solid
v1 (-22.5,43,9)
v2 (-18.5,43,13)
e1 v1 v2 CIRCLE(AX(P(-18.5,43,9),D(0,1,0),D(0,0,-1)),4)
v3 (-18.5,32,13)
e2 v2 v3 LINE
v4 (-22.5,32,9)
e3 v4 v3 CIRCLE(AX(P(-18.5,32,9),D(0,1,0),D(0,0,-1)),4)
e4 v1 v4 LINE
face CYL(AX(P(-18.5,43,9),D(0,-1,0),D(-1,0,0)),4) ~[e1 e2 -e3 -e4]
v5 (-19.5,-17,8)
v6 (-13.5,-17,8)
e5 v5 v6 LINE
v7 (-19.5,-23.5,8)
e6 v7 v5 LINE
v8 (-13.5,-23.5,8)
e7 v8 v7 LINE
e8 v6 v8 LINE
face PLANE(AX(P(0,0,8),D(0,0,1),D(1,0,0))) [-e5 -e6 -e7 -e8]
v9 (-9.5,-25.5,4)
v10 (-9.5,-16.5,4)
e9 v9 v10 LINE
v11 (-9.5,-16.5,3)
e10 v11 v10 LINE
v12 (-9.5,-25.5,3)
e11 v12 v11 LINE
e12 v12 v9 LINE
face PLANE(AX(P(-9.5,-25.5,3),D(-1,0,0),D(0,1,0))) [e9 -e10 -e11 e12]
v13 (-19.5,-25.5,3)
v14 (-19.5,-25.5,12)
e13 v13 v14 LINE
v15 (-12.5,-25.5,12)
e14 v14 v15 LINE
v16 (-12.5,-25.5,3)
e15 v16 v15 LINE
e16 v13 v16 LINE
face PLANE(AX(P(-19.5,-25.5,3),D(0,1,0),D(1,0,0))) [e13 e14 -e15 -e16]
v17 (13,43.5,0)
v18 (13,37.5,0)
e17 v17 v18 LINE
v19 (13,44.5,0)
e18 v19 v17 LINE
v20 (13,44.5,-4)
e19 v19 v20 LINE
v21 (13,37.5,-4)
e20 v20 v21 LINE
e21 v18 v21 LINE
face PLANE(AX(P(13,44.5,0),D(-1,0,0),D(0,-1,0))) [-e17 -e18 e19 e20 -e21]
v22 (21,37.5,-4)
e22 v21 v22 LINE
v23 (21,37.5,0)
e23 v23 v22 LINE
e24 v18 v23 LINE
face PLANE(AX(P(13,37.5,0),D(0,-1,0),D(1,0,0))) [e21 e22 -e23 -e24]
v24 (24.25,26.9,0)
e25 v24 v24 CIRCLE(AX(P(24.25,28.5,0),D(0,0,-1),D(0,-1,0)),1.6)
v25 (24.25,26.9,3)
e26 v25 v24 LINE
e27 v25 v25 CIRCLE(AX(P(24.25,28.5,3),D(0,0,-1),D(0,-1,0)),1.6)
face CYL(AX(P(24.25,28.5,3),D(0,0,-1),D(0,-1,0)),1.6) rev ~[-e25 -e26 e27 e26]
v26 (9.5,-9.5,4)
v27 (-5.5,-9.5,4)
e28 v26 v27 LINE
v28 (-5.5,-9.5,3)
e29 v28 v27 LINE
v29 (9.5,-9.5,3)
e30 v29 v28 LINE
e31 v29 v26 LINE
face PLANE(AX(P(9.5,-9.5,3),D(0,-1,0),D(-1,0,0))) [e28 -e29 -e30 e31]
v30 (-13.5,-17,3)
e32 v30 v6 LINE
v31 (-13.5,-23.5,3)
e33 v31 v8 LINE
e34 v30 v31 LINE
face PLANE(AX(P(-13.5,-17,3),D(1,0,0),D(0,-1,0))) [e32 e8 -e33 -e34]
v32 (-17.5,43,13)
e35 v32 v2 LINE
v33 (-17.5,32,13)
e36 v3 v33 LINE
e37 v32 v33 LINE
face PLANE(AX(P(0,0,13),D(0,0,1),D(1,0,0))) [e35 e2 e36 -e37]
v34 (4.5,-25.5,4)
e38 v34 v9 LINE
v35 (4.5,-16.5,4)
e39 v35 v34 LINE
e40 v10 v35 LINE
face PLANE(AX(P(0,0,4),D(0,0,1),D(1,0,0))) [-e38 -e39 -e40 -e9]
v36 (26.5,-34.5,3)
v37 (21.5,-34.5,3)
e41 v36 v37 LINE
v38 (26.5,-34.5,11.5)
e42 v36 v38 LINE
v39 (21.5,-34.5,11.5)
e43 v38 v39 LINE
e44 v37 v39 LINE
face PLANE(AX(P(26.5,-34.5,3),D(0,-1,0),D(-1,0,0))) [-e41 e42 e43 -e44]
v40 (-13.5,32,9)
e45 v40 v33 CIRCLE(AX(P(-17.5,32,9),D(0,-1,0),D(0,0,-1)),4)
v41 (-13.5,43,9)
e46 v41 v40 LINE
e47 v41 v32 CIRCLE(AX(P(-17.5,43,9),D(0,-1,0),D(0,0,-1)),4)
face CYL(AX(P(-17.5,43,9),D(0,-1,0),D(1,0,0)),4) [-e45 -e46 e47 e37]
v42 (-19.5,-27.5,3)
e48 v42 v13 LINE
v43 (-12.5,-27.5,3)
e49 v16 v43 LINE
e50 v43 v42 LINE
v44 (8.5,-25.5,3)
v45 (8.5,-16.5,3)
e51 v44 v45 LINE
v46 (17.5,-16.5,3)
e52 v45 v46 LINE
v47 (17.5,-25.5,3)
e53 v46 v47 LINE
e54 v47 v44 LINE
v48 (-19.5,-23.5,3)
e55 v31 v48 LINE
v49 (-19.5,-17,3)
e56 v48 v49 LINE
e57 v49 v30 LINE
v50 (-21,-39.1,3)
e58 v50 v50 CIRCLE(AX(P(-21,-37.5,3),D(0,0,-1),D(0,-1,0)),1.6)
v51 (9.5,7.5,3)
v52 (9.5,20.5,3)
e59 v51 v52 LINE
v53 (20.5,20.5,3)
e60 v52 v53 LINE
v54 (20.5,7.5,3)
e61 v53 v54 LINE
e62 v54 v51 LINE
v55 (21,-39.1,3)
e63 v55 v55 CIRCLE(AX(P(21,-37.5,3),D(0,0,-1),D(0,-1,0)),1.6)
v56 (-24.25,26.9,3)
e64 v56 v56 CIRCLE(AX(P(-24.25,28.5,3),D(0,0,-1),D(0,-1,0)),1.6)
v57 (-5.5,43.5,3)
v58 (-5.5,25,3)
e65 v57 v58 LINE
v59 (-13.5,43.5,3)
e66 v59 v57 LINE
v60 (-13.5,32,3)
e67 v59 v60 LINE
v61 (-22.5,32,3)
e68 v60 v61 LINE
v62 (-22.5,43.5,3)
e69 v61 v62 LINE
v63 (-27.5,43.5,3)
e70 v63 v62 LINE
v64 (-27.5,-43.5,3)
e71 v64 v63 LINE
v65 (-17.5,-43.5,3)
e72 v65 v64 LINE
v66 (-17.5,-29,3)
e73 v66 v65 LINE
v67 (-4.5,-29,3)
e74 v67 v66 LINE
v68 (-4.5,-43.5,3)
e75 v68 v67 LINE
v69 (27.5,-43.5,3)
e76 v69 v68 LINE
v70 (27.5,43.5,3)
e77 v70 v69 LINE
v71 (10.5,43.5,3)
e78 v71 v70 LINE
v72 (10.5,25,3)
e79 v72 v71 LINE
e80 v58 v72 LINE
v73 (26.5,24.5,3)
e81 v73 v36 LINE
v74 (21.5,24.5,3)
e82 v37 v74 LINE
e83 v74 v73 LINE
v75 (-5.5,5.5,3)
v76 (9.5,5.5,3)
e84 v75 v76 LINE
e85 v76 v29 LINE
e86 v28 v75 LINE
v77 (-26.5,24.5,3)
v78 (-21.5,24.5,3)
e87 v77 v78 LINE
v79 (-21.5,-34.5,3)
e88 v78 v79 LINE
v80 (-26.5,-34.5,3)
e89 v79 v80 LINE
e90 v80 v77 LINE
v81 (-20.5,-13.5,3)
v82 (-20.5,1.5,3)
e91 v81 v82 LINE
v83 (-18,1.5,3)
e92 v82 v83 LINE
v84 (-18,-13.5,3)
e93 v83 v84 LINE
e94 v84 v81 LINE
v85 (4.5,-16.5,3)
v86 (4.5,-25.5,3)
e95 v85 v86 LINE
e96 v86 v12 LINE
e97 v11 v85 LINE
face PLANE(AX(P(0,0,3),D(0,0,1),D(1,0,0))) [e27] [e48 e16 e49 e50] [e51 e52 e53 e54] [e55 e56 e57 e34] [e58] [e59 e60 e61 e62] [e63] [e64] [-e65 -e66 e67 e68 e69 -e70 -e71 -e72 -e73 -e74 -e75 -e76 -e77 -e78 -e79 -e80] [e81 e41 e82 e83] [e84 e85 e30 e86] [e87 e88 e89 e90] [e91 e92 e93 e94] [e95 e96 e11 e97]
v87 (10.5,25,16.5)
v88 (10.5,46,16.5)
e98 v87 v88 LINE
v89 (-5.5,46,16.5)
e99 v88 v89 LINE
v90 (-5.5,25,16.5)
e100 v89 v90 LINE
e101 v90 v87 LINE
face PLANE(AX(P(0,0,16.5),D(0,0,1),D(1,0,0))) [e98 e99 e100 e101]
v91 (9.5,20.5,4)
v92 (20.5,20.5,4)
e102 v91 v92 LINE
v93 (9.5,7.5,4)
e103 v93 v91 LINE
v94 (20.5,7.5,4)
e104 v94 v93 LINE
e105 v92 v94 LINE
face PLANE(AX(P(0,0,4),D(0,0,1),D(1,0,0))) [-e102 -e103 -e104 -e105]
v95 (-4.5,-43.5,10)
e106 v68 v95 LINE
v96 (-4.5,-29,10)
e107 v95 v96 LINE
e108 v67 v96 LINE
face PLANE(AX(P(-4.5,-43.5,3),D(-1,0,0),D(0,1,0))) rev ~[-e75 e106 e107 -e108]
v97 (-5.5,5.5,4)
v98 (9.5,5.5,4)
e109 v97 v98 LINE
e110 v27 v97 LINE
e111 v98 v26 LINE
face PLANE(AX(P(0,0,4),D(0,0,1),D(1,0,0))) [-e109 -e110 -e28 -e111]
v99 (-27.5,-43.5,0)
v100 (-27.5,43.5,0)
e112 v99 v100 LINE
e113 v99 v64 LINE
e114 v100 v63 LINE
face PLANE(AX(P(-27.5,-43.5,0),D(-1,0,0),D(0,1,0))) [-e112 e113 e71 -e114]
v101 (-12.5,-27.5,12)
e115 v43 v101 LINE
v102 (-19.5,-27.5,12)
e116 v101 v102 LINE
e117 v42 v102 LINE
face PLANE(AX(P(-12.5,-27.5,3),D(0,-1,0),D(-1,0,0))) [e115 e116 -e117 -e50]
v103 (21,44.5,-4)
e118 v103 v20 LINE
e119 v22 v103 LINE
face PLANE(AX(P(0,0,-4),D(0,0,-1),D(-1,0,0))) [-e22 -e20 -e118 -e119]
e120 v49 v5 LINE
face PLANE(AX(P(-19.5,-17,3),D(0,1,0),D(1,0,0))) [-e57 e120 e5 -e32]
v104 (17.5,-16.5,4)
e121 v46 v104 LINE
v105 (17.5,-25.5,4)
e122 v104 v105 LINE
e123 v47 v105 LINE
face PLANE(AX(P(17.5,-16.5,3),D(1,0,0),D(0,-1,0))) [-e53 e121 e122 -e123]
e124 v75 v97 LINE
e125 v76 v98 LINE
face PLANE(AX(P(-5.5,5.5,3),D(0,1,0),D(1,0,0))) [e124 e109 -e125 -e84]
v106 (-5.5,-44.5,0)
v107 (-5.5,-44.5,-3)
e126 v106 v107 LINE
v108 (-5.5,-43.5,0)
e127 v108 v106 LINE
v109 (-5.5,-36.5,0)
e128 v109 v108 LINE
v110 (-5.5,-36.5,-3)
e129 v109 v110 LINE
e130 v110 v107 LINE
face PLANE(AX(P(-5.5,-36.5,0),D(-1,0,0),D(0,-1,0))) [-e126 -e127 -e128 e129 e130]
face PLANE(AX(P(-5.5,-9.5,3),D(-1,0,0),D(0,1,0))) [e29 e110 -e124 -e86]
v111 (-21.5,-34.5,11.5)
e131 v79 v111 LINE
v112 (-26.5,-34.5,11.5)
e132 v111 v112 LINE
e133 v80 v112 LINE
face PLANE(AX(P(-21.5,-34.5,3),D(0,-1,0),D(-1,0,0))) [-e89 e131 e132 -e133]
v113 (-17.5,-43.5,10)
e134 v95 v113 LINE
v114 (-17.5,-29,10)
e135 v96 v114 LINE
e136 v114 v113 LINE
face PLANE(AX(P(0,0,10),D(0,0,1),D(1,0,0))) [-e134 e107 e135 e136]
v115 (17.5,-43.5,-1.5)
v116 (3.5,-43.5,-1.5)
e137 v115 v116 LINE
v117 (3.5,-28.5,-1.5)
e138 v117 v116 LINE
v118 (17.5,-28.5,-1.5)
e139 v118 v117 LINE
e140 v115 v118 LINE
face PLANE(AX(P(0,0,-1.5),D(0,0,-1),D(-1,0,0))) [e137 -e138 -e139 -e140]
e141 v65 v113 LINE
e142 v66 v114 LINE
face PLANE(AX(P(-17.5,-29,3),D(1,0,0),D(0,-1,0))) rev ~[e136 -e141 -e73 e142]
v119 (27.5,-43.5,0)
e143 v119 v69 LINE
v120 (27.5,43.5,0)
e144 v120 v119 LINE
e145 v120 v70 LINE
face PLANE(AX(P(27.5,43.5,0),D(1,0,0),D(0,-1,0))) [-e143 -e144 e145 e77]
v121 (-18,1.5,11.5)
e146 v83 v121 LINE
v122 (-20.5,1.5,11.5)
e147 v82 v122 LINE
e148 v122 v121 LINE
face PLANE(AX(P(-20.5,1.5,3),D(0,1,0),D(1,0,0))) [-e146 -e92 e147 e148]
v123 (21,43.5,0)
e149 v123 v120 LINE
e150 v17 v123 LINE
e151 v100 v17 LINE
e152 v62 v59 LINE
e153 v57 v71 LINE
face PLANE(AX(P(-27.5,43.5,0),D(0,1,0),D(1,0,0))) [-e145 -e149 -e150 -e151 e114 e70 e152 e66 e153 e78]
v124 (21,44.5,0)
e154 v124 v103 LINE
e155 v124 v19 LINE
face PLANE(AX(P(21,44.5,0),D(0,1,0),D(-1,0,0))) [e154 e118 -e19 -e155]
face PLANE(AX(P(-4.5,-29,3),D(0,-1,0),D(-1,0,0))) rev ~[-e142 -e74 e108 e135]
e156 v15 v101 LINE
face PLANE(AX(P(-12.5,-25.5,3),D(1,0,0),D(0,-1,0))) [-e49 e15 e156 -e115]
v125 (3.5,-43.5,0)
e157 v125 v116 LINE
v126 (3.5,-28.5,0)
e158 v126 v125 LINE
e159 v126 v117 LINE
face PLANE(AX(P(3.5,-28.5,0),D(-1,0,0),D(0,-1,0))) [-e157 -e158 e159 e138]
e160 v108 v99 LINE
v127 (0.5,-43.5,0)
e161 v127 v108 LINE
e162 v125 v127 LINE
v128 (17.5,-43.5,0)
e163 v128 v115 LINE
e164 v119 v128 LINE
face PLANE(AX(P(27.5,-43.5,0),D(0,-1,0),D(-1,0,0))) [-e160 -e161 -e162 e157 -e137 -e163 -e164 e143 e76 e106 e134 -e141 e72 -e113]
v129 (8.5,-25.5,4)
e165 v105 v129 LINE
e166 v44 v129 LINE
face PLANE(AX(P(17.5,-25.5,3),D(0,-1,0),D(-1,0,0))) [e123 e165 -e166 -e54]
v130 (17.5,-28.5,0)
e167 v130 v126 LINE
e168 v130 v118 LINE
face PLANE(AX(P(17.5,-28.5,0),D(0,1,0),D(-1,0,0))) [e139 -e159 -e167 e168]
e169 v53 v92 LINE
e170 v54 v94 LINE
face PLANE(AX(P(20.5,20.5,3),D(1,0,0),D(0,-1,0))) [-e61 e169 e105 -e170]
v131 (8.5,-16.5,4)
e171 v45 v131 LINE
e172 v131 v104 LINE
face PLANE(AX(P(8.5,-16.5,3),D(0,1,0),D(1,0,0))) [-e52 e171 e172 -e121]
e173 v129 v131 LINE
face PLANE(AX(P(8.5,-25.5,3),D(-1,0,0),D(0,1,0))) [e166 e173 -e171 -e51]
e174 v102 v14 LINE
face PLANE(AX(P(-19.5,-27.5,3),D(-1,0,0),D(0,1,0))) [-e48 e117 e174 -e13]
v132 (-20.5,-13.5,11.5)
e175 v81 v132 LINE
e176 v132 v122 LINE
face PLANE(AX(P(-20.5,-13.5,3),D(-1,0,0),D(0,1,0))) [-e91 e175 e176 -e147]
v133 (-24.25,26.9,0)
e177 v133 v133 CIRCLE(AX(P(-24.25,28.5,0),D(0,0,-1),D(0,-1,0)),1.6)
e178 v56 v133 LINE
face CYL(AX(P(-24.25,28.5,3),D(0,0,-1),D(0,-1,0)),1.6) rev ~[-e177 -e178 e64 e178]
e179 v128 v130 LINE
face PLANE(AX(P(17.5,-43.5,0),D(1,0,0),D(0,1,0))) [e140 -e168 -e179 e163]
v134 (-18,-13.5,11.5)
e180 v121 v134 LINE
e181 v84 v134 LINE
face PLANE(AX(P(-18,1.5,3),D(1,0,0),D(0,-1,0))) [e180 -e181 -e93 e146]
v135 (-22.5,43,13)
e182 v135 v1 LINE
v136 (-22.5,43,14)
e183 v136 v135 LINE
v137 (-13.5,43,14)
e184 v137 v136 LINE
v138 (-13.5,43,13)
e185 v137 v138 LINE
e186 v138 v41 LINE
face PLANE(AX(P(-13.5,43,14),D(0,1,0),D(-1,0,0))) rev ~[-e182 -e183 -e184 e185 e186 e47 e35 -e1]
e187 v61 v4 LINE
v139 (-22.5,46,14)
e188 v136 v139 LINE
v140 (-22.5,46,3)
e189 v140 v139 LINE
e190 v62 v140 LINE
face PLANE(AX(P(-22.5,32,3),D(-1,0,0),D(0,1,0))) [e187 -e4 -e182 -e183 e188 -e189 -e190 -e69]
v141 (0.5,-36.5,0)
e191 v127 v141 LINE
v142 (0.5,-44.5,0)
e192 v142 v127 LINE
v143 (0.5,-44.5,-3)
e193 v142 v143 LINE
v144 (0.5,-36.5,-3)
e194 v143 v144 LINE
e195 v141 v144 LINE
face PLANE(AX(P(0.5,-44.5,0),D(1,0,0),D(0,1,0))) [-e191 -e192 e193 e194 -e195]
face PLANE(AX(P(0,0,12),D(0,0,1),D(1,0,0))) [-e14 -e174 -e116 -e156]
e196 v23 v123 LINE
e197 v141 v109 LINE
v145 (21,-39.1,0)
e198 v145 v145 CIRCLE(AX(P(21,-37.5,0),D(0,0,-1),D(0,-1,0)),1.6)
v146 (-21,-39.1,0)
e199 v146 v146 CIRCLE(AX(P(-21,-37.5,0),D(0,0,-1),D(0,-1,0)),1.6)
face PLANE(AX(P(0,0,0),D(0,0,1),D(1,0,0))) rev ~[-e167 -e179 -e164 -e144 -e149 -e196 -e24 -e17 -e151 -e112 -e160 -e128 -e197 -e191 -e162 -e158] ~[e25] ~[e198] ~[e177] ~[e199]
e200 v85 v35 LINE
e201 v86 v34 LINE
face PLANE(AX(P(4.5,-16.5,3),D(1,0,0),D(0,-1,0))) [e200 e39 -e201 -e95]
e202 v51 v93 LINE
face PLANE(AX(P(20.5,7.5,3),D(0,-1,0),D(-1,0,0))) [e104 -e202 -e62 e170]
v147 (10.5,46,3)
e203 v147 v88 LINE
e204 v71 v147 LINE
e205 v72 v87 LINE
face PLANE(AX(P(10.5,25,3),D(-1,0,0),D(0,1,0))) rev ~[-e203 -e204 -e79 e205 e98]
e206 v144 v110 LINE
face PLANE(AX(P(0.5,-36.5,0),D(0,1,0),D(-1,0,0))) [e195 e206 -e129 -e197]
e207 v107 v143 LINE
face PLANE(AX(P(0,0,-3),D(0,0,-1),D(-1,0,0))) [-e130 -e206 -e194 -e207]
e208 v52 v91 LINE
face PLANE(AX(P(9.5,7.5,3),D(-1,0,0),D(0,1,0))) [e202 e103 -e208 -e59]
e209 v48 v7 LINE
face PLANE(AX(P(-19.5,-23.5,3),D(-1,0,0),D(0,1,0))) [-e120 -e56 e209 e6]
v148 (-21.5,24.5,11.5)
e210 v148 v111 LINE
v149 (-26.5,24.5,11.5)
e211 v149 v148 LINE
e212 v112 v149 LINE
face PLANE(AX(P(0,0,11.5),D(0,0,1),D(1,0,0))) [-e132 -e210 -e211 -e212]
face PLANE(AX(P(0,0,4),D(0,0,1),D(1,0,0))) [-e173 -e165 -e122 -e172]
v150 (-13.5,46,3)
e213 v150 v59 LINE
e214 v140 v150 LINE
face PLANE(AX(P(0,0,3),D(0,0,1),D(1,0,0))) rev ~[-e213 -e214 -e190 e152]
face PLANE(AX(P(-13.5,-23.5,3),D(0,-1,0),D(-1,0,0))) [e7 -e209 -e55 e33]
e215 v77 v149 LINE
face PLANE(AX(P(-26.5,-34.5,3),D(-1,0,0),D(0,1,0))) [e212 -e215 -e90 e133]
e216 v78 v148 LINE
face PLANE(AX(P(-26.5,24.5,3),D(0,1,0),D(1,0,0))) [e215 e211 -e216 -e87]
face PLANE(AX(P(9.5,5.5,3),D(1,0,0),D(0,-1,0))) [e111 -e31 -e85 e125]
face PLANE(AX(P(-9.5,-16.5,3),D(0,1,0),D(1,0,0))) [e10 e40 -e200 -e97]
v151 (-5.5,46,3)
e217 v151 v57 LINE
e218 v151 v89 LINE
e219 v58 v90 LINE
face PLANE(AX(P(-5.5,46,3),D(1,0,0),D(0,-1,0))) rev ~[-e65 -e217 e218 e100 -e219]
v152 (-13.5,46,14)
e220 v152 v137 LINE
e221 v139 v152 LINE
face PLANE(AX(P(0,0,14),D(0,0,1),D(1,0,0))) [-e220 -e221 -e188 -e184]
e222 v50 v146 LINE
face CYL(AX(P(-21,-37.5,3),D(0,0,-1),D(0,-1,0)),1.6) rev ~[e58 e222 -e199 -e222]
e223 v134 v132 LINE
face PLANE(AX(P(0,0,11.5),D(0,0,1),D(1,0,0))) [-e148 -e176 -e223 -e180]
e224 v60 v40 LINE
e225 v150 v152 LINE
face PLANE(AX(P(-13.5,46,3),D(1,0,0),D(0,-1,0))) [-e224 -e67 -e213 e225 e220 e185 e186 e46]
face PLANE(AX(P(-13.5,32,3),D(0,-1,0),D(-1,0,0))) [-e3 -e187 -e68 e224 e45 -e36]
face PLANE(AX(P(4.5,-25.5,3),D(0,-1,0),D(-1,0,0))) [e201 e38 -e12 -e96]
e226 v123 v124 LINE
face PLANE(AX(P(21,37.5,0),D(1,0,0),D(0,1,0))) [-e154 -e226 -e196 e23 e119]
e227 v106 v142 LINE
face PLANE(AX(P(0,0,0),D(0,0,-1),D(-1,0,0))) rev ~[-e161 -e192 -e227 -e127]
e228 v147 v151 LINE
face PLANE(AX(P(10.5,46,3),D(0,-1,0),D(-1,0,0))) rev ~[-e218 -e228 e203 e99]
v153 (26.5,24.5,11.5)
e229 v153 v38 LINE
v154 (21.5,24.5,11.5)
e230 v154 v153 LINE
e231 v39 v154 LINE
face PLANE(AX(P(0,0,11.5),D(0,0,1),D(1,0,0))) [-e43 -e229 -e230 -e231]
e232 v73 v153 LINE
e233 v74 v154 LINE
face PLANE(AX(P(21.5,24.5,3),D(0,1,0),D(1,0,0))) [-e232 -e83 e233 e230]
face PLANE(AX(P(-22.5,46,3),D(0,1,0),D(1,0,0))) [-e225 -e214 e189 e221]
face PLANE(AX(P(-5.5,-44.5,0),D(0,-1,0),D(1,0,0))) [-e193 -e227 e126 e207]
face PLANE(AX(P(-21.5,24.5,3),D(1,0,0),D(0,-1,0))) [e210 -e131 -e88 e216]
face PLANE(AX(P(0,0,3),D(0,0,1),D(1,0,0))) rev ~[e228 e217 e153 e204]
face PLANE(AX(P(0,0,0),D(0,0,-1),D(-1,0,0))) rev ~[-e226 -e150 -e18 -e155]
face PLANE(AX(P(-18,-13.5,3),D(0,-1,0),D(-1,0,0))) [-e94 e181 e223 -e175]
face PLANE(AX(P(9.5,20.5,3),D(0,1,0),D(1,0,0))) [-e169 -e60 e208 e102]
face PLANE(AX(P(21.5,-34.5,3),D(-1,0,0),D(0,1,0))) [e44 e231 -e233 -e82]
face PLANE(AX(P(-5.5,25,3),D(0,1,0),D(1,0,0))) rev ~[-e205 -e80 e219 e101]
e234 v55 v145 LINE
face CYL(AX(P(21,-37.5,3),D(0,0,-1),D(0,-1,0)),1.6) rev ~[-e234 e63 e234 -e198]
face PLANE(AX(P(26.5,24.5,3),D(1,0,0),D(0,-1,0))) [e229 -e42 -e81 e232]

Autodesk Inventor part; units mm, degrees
ref_plane "YZ Plane" through (0, 0, 0) normal (1, 0, 0) x (0, 1, 0)
ref_plane "XZ Plane" through (0, 0, 0) normal (0, 1, 0) x (-1, 0, 0)
ref_plane "XY Plane" through (0, 0, 0) normal (0, 0, 1) x (1, 0, 0)
sketch "スケッチ1" plane through (0, 0, 0) normal (0, 0, 1) x (1, 0, 0)
  line L0 (-27.5, 43.5) -> (27.5, 43.5)
  line L1 (27.5, 43.5) -> (27.5, -43.5)
  line L2 (27.5, -43.5) -> (-27.5, -43.5)
  line L3 (-27.5, -43.5) -> (-27.5, 43.5)
  point P0 (0, 0)
  dimension "d0" = 87
  dimension "d1" = 55
  dimension "d2" = 27.5
  dimension "d3" = 43.5
extrude "押し出し1" add sketch "スケッチ1" along normal blind 3
sketch "スケッチ2" plane through (0, 0, 3) normal (0, 0, 1) x (1, 0, 0)
  circle A0 centre (-24.25, 28.5) radius 1.6
  circle A1 centre (24.25, 28.5) radius 1.6
  circle A2 centre (-21, -37.5) radius 1.6
  circle A3 centre (21, -37.5) radius 1.6
  line L0 (-27.5, 43.5) -> (27.5, 43.5) projected
  point P0 (0, 0)
  dimension "d6" = 3.2
  dimension "d7" = 48.5
  dimension "d8" = 42
  dimension "d9" = 21
  dimension "d10" = 24.25
  dimension "d11" = 66
  dimension "d12" = 66
  dimension "d22" = 15
  dimension "d23" = 15
hole "穴1" at (-21, -37.5, 3) at (21, -37.5, 3) at (24.25, 28.5, 3) at (-24.25, 28.5, 3) direction (0, 0, -1) diameter 3.2 end through all
sketch "スケッチ3" plane through (0, 0, 3) normal (0, 0, 1) x (1, 0, 0)
  line L0 (27.5, -43.5) -> (-27.5, -43.5) projected
  line L1 (-26.5, 24.5) -> (-21.5, 24.5)
  line L2 (-21.5, 24.5) -> (-21.5, -34.5)
  line L3 (-21.5, -34.5) -> (-26.5, -34.5)
  line L4 (-26.5, -34.5) -> (-26.5, 24.5)
  line L5 (21.5, 24.5) -> (26.5, 24.5)
  line L6 (26.5, 24.5) -> (26.5, -34.5)
  line L7 (26.5, -34.5) -> (21.5, -34.5)
  line L8 (21.5, -34.5) -> (21.5, 24.5)
  point P0 (0, 0)
  dimension "d24" = 5
  dimension "d25" = 59
  dimension "d26" = 9
  dimension "d27" = 9
  dimension "d28" = 43
  dimension "d29" = 21.5
extrude "押し出し2" add sketch "スケッチ3" along normal blind 8.5
sketch "スケッチ4" plane through (0, 0, 3) normal (0, 0, 1) x (1, 0, 0)
  line L0 (-5.5, 25) -> (10.5, 25)
  line L1 (10.5, 25) -> (10.5, 46)
  line L2 (10.5, 46) -> (-5.5, 46)
  line L3 (-5.5, 46) -> (-5.5, 25)
  line L4 (27.5, 43.5) -> (27.5, -43.5) projected
  point P0 (0, 0)
  dimension "d57" = 16
  dimension "d58" = 21
  dimension "d59" = 2.5
  dimension "d60" = 17
extrude "押し出し3" add sketch "スケッチ4" along normal blind 13.5
sketch "スケッチ5" plane through (0, 0, 3) normal (0, 0, 1) x (1, 0, 0)
  line L0 (-22.5, 46) -> (-13.5, 46)
  line L1 (-13.5, 46) -> (-13.5, 32)
  line L2 (-13.5, 32) -> (-22.5, 32)
  line L3 (-22.5, 32) -> (-22.5, 46)
  line L4 (-27.5, -43.5) -> (-27.5, 43.5) projected
  point P0 (5.6589, 43.5)
  dimension "d61" = 5
  dimension "d62" = 9
  dimension "d63" = 14
  dimension "d64" = 2.5
extrude "押し出し4" add sketch "スケッチ5" along normal blind 11
sketch "スケッチ6" plane through (0, 0, 3) normal (0, 0, 1) x (1, 0, 0)
  line L0 (27.5, -43.5) -> (-27.5, -43.5) projected
  line L1 (-17.5, -43.5) -> (-4.5, -43.5)
  line L2 (-4.5, -43.5) -> (-4.5, -29)
  line L3 (-4.5, -29) -> (-17.5, -29)
  line L4 (-17.5, -29) -> (-17.5, -43.5)
  line L5 (-27.5, -43.5) -> (-27.5, 43.5) projected
  point P0 (0, 0)
  dimension "d65" = 13
  dimension "d66" = 10
  dimension "d67" = 14.5
extrude "押し出し5" add sketch "スケッチ6" along normal blind 7
sketch "スケッチ7" plane through (0, 0, 0) normal (0, 0, -1) x (-1, 0, 0)
  line L0 (5.5, -44.5) -> (-0.5, -44.5)
  line L1 (-0.5, -44.5) -> (-0.5, -36.5)
  line L2 (-0.5, -36.5) -> (5.5, -36.5)
  line L3 (5.5, -36.5) -> (5.5, -44.5)
  line L4 (27.5, -43.5) -> (27.5, 43.5) projected
  point P0 (0, 0)
  dimension "d68" = 6
  dimension "d69" = 8
  dimension "d70" = 22
  dimension "d71" = 1
extrude "押し出し6" add sketch "スケッチ7" along normal blind 3
sketch "スケッチ8" plane through (0, 0, 0) normal (0, 0, -1) x (-1, 0, 0)
  line L0 (-27.5, -43.5) -> (-0.5, -43.5) projected
  line L1 (-3.5, -43.5) -> (-17.5, -43.5)
  line L2 (-17.5, -43.5) -> (-17.5, -28.5)
  line L3 (-17.5, -28.5) -> (-3.5, -28.5)
  line L4 (-3.5, -28.5) -> (-3.5, -43.5)
  line L5 (-27.5, 43.5) -> (-27.5, -43.5) projected
  point P0 (0, 0)
  dimension "d72" = 14
  dimension "d73" = 15
  dimension "d74" = 10
extrude "押し出し7" add sketch "スケッチ8" along normal blind 1.5
sketch "スケッチ9" plane through (0, 0, 0) normal (0, 0, -1) x (-1, 0, 0)
  line L0 (-21, 44.5) -> (-13, 44.5)
  line L1 (-13, 44.5) -> (-13, 37.5)
  line L2 (-13, 37.5) -> (-21, 37.5)
  line L3 (-21, 37.5) -> (-21, 44.5)
  line L4 (-27.5, 43.5) -> (-27.5, -43.5) projected
  point P0 (0, 0)
  dimension "d75" = 8
  dimension "d76" = 7
  dimension "d77" = 6.5
  dimension "d78" = 1
extrude "押し出し8" add sketch "スケッチ9" along normal blind 4
sketch "スケッチ11" plane through (0, 0, 3) normal (0, 0, 1) x (1, 0, 0)
  line L0 (-20.5, 1.5) -> (-18, 1.5)
  line L1 (-18, 1.5) -> (-18, -13.5)
  line L2 (-18, -13.5) -> (-20.5, -13.5)
  line L3 (-20.5, -13.5) -> (-20.5, 1.5)
  line L4 (-17.5, -43.5) -> (-27.5, -43.5) projected
  line L5 (-21.5, 24.5) -> (-21.5, -34.5) projected
  point P0 (0, 0)
  dimension "d79" = 15
  dimension "d80" = 2.5
  dimension "d81" = 30
  dimension "d82" = 1
extrude "押し出し10" add sketch "スケッチ11" along normal blind 8.5
sketch "スケッチ12" plane through (0, 0, 3) normal (0, 0, 1) x (1, 0, 0)
  line L0 (-19.5, -17) -> (-13.5, -17)
  line L1 (-13.5, -17) -> (-13.5, -23.5)
  line L2 (-13.5, -23.5) -> (-19.5, -23.5)
  line L3 (-19.5, -23.5) -> (-19.5, -17)
  line L4 (-17.5, -43.5) -> (-27.5, -43.5) projected
  line L5 (-21.5, 24.5) -> (-21.5, -34.5) projected
  point P0 (0, 0)
  dimension "d83" = 6
  dimension "d84" = 6.5
  dimension "d86" = 2
  dimension "d87" = 20
extrude "押し出し11" add sketch "スケッチ12" along normal blind 5
sketch "スケッチ13" plane through (0, 0, 14) normal (0, 0, 1) x (1, 0, 0)
  line L0 (-13.5, 46) -> (-13.5, 32) projected
  line L1 (-22.5, 32) -> (-13.5, 32)
  line L2 (-13.5, 32) -> (-13.5, 43)
  line L3 (-13.5, 43) -> (-22.5, 43)
  line L4 (-22.5, 43) -> (-22.5, 32)
  point P0 (0, 0)
  dimension "d112" = 11
extrude "押し出し13" cut sketch "スケッチ13" against normal blind 1
sketch "スケッチ14" plane through (0, 0, 3) normal (0, 0, 1) x (1, 0, 0)
  line L0 (-17.5, -43.5) -> (-27.5, -43.5) projected
  line L1 (-21.5, 24.5) -> (-21.5, -34.5) projected
  line L2 (-19.5, -25.5) -> (-12.5, -25.5)
  line L3 (-12.5, -25.5) -> (-12.5, -27.5)
  line L4 (-12.5, -27.5) -> (-19.5, -27.5)
  line L5 (-19.5, -27.5) -> (-19.5, -25.5)
  point P0 (0, 0)
  dimension "d88" = 7
  dimension "d89" = 2
  dimension "d90" = 2
  dimension "d91" = 16
extrude "押し出し14" add sketch "スケッチ14" along normal blind 9
sketch "スケッチ10" plane through (0, 0, 3) normal (0, 0, 1) x (1, 0, 0)
  line L0 (-5.5, 5.5) -> (9.5, 5.5)
  line L1 (9.5, 5.5) -> (9.5, -9.5)
  line L2 (9.5, -9.5) -> (-5.5, -9.5)
  line L3 (-5.5, -9.5) -> (-5.5, 5.5)
  line L4 (-9.5, -16.5) -> (4.5, -16.5)
  line L5 (4.5, -16.5) -> (4.5, -25.5)
  line L6 (4.5, -25.5) -> (-9.5, -25.5)
  line L7 (-9.5, -25.5) -> (-9.5, -16.5)
  line L8 (9.5, 20.5) -> (20.5, 20.5)
  line L9 (20.5, 20.5) -> (20.5, 7.5)
  line L10 (20.5, 7.5) -> (9.5, 7.5)
  line L11 (9.5, 7.5) -> (9.5, 20.5)
  line L12 (27.5, -43.5) -> (-4.5, -43.5) projected
  line L13 (27.5, 43.5) -> (27.5, -43.5) projected
  line L14 (10.5, 43.5) -> (27.5, 43.5) projected
  line L15 (8.5, -16.5) -> (17.5, -16.5)
  line L16 (17.5, -16.5) -> (17.5, -25.5)
  line L17 (17.5, -25.5) -> (8.5, -25.5)
  line L18 (8.5, -25.5) -> (8.5, -16.5)
  point P0 (0, 0)
  dimension "d94" = 11
  dimension "d95" = 15
  dimension "d96" = 14
  dimension "d97" = 9
  dimension "d98" = 9
  dimension "d99" = 9
  dimension "d100" = 15
  dimension "d101" = 13
  dimension "d102" = 23
  dimension "d103" = 38
  dimension "d104" = 18
  dimension "d105" = 18
  dimension "d106" = 7
  dimension "d107" = 18
  dimension "d108" = 10
  dimension "d109" = 4
extrude "押し出し15" add sketch "スケッチ10" along normal blind 1
fillet "フィレット1" radius 4 2 edges at (-13.5, 37.5, 13) (-22.5, 37.5, 13)
properties part number "43" material "PC/ABS プラスチック"
